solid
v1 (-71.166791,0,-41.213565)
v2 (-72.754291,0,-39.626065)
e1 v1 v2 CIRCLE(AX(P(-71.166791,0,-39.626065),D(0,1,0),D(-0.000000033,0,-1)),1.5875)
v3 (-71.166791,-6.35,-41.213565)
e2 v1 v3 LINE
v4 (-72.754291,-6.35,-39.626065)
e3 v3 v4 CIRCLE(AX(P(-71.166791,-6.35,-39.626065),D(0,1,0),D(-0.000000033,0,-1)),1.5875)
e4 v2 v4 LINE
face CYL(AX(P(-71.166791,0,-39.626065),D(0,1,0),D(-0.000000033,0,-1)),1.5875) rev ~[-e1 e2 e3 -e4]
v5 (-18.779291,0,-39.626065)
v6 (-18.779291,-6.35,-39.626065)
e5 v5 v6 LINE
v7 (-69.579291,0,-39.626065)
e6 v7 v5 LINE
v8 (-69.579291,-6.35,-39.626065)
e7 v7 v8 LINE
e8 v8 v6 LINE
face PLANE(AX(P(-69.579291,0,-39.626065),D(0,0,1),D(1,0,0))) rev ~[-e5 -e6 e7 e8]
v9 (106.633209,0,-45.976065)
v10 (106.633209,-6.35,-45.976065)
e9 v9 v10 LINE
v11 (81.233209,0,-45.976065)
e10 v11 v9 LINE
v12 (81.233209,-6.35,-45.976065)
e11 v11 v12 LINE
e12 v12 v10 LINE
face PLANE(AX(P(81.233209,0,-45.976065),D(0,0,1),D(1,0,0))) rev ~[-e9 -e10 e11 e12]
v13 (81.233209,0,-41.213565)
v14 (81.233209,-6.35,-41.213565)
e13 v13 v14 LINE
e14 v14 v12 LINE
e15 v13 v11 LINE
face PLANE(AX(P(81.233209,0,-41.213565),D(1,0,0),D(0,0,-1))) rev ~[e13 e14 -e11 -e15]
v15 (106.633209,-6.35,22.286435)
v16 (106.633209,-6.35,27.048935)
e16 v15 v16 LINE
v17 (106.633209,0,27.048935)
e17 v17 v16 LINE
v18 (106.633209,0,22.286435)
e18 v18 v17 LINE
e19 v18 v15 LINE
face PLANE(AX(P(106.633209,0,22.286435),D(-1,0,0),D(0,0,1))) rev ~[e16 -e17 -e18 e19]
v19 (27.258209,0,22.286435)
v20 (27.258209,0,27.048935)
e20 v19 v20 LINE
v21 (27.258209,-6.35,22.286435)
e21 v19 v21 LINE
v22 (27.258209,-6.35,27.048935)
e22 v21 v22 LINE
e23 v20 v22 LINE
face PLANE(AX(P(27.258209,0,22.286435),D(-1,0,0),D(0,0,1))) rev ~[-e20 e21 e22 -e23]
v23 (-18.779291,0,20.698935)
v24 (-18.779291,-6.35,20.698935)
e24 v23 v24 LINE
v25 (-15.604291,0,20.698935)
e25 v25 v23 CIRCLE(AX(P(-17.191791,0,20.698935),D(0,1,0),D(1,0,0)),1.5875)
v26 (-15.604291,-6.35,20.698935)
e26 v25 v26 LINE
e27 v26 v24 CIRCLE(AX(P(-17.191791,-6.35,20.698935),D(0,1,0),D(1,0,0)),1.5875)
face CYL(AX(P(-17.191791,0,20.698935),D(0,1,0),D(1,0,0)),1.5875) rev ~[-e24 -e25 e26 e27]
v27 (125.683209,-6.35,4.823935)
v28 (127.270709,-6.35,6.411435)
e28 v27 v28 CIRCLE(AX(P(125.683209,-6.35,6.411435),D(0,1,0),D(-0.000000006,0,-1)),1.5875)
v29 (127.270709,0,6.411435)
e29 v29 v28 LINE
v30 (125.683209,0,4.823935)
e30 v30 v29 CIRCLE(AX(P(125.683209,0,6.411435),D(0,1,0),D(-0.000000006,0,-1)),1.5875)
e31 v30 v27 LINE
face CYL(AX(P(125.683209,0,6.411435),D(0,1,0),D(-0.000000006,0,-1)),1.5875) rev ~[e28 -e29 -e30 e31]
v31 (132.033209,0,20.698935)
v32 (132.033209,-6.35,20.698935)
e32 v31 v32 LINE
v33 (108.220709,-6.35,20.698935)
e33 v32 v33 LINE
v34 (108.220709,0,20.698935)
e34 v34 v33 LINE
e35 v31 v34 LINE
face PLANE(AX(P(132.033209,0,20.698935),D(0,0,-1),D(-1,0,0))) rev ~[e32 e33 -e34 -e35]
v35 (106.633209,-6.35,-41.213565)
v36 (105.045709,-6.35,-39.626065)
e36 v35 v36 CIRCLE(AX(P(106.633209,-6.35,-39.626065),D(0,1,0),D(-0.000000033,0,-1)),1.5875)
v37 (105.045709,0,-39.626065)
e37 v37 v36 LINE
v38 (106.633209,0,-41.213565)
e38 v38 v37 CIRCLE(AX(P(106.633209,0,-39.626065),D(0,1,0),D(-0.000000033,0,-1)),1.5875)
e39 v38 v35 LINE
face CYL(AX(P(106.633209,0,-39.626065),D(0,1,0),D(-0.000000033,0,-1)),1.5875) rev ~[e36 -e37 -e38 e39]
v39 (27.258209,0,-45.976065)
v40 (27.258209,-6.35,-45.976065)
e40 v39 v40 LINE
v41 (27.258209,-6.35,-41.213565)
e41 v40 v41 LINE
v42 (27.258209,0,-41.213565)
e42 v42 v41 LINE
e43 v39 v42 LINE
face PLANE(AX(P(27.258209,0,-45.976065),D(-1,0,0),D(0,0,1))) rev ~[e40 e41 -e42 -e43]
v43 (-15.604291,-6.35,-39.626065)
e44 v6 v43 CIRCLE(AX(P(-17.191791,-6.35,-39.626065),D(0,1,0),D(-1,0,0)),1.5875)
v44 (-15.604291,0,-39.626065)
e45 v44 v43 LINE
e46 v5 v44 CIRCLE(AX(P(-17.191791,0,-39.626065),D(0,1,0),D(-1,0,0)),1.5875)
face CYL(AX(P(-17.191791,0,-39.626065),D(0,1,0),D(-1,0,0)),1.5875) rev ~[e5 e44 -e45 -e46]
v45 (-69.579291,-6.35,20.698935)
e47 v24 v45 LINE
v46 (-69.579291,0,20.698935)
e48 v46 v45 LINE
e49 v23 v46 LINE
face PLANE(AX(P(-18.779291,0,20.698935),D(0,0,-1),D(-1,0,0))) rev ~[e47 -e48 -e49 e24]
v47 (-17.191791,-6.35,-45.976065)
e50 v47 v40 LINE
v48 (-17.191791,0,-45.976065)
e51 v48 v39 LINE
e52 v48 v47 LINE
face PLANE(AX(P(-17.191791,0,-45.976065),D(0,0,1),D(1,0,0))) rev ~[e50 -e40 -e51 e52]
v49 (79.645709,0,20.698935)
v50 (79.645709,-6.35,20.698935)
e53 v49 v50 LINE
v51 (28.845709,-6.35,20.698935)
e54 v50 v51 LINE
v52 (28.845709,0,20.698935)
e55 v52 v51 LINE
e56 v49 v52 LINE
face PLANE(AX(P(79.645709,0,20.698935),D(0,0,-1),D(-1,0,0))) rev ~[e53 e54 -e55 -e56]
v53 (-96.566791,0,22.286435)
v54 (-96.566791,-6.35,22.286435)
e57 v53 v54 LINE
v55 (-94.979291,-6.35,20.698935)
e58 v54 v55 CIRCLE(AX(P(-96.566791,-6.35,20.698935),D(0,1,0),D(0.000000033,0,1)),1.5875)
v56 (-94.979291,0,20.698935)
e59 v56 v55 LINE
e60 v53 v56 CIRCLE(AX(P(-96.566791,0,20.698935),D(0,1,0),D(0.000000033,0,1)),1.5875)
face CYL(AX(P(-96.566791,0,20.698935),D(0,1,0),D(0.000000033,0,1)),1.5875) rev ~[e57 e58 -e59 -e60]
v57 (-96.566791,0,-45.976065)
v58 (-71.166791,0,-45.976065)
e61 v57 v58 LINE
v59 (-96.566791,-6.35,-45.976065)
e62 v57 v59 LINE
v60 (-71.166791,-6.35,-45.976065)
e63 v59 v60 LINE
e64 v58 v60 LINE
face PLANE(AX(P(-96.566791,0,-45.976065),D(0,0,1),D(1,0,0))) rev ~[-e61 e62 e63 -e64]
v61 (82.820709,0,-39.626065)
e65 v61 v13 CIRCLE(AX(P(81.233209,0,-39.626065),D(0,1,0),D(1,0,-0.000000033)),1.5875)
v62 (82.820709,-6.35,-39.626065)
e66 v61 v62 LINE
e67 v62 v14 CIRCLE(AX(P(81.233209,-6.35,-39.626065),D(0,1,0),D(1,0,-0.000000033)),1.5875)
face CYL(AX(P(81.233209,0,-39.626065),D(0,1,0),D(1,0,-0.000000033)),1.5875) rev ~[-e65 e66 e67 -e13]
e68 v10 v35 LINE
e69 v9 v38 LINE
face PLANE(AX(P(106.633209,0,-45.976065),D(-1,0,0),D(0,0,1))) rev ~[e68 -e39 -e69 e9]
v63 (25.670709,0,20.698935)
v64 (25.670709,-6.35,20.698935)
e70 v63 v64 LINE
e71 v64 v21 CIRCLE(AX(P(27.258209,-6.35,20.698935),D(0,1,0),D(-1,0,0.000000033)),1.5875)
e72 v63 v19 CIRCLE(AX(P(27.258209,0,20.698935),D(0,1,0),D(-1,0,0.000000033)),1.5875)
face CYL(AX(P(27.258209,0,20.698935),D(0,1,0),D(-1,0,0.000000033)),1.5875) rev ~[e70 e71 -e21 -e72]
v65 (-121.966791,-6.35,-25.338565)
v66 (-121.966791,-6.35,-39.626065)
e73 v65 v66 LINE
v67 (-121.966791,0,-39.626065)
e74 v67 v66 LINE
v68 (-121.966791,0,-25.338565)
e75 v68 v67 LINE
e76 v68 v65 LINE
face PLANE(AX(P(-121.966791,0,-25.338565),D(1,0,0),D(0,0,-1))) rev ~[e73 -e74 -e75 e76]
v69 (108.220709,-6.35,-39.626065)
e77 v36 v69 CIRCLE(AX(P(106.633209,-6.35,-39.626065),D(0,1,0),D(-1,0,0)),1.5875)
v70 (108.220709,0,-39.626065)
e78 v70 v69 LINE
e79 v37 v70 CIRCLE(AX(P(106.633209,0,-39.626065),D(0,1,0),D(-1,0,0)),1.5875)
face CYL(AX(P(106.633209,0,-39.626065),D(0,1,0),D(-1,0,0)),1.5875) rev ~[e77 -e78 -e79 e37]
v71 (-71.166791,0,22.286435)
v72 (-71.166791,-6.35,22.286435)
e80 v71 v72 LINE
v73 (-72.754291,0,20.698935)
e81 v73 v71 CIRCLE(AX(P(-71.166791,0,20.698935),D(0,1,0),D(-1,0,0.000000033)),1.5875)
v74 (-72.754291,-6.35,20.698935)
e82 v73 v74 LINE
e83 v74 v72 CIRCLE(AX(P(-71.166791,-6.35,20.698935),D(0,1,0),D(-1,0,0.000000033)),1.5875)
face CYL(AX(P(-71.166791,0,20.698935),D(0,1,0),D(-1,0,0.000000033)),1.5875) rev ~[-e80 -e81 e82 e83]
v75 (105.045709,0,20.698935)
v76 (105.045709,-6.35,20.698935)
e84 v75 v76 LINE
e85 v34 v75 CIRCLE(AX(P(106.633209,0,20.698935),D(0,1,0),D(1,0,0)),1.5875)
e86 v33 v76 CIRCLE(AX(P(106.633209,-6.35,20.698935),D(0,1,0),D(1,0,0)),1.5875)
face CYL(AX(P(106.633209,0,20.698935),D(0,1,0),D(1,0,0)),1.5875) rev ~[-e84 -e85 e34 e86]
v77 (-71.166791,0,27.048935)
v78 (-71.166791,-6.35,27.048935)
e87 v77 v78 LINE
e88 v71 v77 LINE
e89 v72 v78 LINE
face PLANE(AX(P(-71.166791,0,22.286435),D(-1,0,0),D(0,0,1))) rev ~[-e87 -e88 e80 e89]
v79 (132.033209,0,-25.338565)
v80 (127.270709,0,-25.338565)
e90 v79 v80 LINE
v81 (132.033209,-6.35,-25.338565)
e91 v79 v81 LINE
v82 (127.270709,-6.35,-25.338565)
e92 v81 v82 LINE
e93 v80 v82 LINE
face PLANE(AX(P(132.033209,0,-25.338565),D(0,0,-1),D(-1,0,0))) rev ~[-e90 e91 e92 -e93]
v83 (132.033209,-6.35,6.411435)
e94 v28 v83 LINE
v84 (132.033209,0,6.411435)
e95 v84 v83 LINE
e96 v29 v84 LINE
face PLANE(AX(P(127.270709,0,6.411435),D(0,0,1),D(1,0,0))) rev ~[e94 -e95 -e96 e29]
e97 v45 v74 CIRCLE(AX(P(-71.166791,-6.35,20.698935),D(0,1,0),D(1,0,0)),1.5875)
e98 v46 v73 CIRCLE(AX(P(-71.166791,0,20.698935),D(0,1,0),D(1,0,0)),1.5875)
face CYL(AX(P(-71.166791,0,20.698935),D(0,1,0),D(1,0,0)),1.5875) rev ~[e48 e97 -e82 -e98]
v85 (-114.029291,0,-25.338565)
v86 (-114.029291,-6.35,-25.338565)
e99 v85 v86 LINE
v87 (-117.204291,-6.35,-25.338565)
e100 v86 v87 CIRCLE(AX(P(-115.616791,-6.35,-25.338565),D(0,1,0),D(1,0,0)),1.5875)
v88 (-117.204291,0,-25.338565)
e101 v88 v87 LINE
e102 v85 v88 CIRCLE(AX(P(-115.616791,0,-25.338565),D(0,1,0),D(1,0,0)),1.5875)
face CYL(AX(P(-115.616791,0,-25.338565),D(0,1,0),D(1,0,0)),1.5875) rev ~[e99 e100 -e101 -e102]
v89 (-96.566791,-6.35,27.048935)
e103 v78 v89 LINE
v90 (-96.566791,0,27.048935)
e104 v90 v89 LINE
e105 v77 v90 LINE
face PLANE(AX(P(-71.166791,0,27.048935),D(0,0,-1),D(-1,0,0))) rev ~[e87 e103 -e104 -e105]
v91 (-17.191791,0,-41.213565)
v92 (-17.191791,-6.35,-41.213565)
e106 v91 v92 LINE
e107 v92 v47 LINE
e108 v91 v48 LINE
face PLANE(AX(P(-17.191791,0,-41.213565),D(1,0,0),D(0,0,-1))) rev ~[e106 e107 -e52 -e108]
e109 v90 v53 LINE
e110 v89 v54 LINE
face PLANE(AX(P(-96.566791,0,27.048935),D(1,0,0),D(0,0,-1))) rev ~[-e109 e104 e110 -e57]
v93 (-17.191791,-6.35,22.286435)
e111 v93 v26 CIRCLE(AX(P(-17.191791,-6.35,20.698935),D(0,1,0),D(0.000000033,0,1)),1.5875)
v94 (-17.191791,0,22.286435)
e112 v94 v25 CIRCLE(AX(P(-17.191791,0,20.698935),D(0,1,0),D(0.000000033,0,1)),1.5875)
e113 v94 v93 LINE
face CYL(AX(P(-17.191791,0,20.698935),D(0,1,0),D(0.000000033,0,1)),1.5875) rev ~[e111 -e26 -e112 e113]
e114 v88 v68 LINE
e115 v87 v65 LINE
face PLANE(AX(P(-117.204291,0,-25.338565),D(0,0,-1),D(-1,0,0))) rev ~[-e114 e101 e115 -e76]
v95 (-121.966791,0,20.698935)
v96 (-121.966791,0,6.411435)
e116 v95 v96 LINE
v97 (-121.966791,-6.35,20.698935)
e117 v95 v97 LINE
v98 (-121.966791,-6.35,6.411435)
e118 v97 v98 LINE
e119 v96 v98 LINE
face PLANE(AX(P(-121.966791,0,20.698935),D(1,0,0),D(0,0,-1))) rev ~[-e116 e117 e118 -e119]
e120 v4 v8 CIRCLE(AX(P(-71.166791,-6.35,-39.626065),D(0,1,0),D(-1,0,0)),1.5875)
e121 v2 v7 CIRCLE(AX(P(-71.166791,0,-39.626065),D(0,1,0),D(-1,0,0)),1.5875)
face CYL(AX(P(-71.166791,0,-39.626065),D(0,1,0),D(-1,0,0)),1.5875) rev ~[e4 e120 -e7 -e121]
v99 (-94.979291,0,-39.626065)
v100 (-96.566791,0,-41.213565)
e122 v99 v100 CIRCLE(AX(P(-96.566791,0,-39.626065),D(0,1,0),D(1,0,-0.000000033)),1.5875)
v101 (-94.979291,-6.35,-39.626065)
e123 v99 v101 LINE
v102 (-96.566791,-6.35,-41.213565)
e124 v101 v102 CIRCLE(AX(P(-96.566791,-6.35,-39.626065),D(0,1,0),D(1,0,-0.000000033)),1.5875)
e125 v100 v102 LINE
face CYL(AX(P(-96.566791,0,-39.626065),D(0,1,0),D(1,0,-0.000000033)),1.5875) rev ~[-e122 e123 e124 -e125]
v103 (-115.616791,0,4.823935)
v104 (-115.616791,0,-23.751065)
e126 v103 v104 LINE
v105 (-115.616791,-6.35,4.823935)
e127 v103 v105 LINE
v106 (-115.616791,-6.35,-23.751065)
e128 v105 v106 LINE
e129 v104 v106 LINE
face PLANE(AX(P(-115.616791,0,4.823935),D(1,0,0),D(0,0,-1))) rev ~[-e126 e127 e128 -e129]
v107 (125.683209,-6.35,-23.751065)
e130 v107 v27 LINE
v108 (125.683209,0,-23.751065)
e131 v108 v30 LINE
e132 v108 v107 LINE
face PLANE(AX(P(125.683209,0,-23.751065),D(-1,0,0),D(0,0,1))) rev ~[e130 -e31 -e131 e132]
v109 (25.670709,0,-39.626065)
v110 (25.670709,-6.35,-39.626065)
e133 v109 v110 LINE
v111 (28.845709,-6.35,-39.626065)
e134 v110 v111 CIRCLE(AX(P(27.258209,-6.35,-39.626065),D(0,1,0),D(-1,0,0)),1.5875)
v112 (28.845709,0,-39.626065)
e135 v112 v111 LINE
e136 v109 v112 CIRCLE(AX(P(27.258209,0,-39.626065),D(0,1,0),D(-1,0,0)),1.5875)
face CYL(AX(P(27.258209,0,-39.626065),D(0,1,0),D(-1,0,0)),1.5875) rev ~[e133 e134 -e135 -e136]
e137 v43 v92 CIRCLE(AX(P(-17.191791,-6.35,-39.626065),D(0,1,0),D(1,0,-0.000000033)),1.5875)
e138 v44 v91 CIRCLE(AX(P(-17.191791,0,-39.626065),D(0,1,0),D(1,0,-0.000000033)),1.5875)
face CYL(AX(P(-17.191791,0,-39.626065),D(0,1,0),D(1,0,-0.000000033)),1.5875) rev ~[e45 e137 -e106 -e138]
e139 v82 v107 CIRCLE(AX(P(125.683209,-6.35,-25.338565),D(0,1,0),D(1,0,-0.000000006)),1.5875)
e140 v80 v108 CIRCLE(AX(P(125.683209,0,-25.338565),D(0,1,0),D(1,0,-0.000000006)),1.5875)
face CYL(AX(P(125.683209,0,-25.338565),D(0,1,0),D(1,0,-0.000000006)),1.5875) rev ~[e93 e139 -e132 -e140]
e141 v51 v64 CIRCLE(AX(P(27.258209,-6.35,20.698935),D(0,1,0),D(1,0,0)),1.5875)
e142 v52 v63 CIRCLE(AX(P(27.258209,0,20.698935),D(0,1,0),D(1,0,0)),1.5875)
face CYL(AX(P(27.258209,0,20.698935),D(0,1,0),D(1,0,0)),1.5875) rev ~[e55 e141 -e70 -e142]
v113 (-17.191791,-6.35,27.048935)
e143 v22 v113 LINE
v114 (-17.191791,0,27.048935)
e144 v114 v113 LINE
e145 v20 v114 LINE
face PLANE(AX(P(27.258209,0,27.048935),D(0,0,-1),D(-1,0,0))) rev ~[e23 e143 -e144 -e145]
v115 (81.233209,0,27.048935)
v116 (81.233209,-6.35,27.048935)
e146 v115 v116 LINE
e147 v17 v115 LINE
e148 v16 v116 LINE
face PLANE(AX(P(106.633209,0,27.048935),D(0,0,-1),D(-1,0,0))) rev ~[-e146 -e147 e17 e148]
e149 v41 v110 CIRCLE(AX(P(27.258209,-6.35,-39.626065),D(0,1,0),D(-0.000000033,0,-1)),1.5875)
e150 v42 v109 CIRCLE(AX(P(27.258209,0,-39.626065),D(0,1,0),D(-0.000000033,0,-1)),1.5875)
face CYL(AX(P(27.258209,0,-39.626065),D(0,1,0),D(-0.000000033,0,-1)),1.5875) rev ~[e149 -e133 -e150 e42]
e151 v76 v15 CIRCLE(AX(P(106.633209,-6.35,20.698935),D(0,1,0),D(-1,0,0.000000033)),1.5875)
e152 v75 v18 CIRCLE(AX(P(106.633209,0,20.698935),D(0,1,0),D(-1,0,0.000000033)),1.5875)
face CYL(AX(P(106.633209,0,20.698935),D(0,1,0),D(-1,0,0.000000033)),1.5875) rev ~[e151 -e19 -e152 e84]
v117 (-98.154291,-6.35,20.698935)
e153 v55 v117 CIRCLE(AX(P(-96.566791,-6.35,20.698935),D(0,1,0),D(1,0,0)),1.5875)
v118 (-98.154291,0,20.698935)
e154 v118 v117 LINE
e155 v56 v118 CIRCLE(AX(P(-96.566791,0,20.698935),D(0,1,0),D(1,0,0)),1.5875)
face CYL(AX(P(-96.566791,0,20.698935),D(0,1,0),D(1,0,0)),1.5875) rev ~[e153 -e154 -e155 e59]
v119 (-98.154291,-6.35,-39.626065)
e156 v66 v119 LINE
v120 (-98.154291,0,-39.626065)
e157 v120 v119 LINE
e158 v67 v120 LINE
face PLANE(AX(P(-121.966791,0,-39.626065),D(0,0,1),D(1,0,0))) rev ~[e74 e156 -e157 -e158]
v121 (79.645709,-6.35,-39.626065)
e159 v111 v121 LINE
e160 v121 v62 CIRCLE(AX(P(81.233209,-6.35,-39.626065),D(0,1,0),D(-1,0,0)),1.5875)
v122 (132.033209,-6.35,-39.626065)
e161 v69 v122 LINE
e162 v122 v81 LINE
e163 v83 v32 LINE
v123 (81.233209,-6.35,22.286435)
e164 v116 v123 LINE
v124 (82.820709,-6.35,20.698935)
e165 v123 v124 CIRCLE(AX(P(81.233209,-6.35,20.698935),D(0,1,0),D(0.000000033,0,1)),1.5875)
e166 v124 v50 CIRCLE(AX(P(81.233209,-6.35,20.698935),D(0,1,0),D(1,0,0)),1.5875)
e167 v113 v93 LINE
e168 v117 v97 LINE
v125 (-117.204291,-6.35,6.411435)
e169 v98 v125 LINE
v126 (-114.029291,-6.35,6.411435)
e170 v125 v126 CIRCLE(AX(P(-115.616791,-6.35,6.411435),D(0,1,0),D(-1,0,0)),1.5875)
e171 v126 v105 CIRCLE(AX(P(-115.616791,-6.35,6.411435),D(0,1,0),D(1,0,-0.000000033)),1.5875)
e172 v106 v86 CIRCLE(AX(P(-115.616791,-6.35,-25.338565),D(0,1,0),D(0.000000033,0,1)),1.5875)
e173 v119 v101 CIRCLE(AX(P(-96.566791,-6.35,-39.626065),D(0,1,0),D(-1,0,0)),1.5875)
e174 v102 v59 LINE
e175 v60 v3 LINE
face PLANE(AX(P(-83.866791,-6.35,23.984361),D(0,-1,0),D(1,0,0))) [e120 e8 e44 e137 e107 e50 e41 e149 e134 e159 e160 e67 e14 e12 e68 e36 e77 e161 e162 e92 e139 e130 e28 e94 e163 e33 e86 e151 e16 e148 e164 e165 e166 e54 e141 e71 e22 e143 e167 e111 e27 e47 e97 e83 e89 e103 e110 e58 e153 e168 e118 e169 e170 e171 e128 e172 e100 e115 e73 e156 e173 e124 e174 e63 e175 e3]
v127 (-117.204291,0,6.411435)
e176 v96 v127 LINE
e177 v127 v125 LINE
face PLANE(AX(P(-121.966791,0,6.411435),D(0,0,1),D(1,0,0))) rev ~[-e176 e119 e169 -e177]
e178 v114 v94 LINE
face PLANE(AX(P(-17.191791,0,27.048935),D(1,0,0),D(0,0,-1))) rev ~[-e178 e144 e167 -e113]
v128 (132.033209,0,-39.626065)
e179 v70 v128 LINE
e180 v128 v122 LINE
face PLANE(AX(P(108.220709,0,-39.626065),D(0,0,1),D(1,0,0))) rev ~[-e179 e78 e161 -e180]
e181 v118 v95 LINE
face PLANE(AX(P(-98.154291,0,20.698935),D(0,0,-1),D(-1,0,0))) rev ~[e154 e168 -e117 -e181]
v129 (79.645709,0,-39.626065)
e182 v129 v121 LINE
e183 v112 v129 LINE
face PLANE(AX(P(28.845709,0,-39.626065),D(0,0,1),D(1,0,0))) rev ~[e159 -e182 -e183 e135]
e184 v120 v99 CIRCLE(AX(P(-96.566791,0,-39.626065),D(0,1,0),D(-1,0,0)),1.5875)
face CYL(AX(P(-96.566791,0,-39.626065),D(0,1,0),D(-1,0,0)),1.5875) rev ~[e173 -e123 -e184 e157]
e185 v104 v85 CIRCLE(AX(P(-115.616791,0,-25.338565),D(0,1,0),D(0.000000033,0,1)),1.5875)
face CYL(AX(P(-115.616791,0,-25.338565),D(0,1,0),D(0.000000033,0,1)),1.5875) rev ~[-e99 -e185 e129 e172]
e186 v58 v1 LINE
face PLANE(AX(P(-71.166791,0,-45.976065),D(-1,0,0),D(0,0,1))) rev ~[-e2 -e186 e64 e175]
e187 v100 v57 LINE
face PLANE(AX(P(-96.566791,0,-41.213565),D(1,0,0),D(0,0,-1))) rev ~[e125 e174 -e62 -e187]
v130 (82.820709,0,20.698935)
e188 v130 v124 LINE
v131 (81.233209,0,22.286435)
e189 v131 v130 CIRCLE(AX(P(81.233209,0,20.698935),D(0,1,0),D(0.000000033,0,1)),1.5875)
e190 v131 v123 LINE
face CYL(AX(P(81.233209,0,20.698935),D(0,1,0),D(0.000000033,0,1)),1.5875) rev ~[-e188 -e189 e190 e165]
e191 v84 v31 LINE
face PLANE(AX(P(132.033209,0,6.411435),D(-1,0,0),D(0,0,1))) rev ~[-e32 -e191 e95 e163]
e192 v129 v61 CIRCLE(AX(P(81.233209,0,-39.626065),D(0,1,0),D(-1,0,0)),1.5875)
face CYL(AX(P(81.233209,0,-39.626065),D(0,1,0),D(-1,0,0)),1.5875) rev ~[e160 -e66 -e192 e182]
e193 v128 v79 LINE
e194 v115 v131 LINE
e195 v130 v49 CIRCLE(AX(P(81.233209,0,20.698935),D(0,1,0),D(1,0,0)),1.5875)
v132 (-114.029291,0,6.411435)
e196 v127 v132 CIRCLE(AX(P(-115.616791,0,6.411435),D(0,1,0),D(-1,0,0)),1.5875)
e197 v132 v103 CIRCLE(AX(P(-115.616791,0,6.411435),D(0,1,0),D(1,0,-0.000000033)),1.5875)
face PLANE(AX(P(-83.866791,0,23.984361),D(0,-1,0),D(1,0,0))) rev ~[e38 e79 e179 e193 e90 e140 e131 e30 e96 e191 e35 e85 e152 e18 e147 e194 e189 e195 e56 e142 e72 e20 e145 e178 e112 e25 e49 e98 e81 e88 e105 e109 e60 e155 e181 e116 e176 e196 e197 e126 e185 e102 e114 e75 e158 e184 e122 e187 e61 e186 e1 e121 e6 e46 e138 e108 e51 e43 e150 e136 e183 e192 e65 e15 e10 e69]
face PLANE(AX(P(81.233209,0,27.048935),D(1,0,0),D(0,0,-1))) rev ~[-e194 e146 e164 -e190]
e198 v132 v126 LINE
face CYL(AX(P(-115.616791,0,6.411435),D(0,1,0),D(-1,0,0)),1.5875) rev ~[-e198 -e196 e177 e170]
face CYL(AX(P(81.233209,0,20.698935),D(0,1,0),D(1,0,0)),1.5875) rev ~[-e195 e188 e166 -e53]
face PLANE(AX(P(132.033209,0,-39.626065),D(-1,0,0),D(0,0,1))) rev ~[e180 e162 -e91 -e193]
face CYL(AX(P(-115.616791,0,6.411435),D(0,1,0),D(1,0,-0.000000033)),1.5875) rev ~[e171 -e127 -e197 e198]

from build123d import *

# Parameters (mm, degrees)
F1_DEPTH = 6.35


with BuildPart() as f1:
    # F0 (on Front) → F1 (new body)
    with BuildSketch(Plane.XZ):
        with BuildLine():
            ThreePointArc((-96.566791, 22.286435), (-95.444259, 21.821467), (-94.979291, 20.698935))
            Line((-94.979291, 20.698935), (-72.754291, 20.698935))
            ThreePointArc((-72.754291, 20.698935), (-72.289323, 21.821467), (-71.166791, 22.286435))
            Line((-71.166791, 22.286435), (-71.166791, 27.048935))
            Line((-71.166791, 27.048935), (-96.566791, 27.048935))
            Line((-96.566791, 27.048935), (-96.566791, 22.286435))
        make_face()
        with BuildLine():
            Line((-72.754291, 20.698935), (-94.979291, 20.698935))
            ThreePointArc((-94.979291, 20.698935), (-96.566791, 19.111435), (-98.154291, 20.698935))
            Line((-98.154291, 20.698935), (-121.966791, 20.698935))
            Line((-121.966791, 20.698935), (-121.966791, 6.411435))
            Line((-121.966791, 6.411435), (-117.204291, 6.411435))
            ThreePointArc((-117.204291, 6.411435), (-115.616791, 7.998935), (-114.029291, 6.411435))
            ThreePointArc((-114.029291, 6.411435), (-114.494259, 5.288903), (-115.616791, 4.823935))
            Line((-115.616791, 4.823935), (-115.616791, -23.751065))
            ThreePointArc((-115.616791, -23.751065), (-114.494259, -24.216033), (-114.029291, -25.338565))
            ThreePointArc((-114.029291, -25.338565), (-115.616791, -26.926065), (-117.204291, -25.338565))
            Line((-117.204291, -25.338565), (-121.966791, -25.338565))
            Line((-121.966791, -25.338565), (-121.966791, -39.626065))
            Line((-121.966791, -39.626065), (-98.154291, -39.626065))
            ThreePointArc((-98.154291, -39.626065), (-96.566791, -38.038565), (-94.979291, -39.626065))
            Line((-94.979291, -39.626065), (-72.754291, -39.626065))
            ThreePointArc((-72.754291, -39.626065), (-71.166791, -38.038565), (-69.579291, -39.626065))
            Line((-69.579291, -39.626065), (-18.779291, -39.626065))
            ThreePointArc((-18.779291, -39.626065), (-17.191791, -38.038565), (-15.604291, -39.626065))
            Line((-15.604291, -39.626065), (25.670709, -39.626065))
            ThreePointArc((25.670709, -39.626065), (27.258209, -38.038565), (28.845709, -39.626065))
            Line((28.845709, -39.626065), (79.645709, -39.626065))
            ThreePointArc((79.645709, -39.626065), (81.233209, -38.038565), (82.820709, -39.626065))
            Line((82.820709, -39.626065), (105.045709, -39.626065))
            ThreePointArc((105.045709, -39.626065), (106.633209, -38.038565), (108.220709, -39.626065))
            Line((108.220709, -39.626065), (132.033209, -39.626065))
            Line((132.033209, -39.626065), (132.033209, -25.338565))
            Line((132.033209, -25.338565), (127.270709, -25.338565))
            ThreePointArc((127.270709, -25.338565), (124.560677, -26.461097), (125.683209, -23.751065))
            Line((125.683209, -23.751065), (125.683209, 4.823935))
            ThreePointArc((125.683209, 4.823935), (124.560677, 7.533967), (127.270709, 6.411435))
            Line((127.270709, 6.411435), (132.033209, 6.411435))
            Line((132.033209, 6.411435), (132.033209, 20.698935))
            Line((132.033209, 20.698935), (108.220709, 20.698935))
            ThreePointArc((108.220709, 20.698935), (106.633209, 19.111435), (105.045709, 20.698935))
            Line((105.045709, 20.698935), (82.820709, 20.698935))
            ThreePointArc((82.820709, 20.698935), (81.233209, 19.111435), (79.645709, 20.698935))
            Line((79.645709, 20.698935), (28.845709, 20.698935))
            ThreePointArc((28.845709, 20.698935), (27.258209, 19.111435), (25.670709, 20.698935))
            Line((25.670709, 20.698935), (-15.604291, 20.698935))
            ThreePointArc((-15.604291, 20.698935), (-17.191791, 19.111435), (-18.779291, 20.698935))
            Line((-18.779291, 20.698935), (-69.579291, 20.698935))
            ThreePointArc((-69.579291, 20.698935), (-71.166791, 19.111435), (-72.754291, 20.698935))
        make_face()
        with BuildLine():
            Line((-17.191791, 27.048935), (-17.191791, 22.286435))
            ThreePointArc((-17.191791, 22.286435), (-16.069259, 21.821467), (-15.604291, 20.698935))
            Line((-15.604291, 20.698935), (25.670709, 20.698935))
            ThreePointArc((25.670709, 20.698935), (26.135677, 21.821467), (27.258209, 22.286435))
            Line((27.258209, 22.286435), (27.258209, 27.048935))
            Line((27.258209, 27.048935), (-17.191791, 27.048935))
        make_face()
        with BuildLine():
            Line((81.233209, 27.048935), (81.233209, 22.286435))
            ThreePointArc((81.233209, 22.286435), (82.355741, 21.821467), (82.820709, 20.698935))
            Line((82.820709, 20.698935), (105.045709, 20.698935))
            ThreePointArc((105.045709, 20.698935), (105.510677, 21.821467), (106.633209, 22.286435))
            Line((106.633209, 22.286435), (106.633209, 27.048935))
            Line((106.633209, 27.048935), (81.233209, 27.048935))
        make_face()
        with BuildLine():
            Line((105.045709, -39.626065), (82.820709, -39.626065))
            ThreePointArc((82.820709, -39.626065), (82.355741, -40.748597), (81.233209, -41.213565))
            Line((81.233209, -41.213565), (81.233209, -45.976065))
            Line((81.233209, -45.976065), (106.633209, -45.976065))
            Line((106.633209, -45.976065), (106.633209, -41.213565))
            ThreePointArc((106.633209, -41.213565), (105.510677, -40.748597), (105.045709, -39.626065))
        make_face()
        with BuildLine():
            Line((25.670709, -39.626065), (-15.604291, -39.626065))
            ThreePointArc((-15.604291, -39.626065), (-16.069259, -40.748597), (-17.191791, -41.213565))
            Line((-17.191791, -41.213565), (-17.191791, -45.976065))
            Line((-17.191791, -45.976065), (27.258209, -45.976065))
            Line((27.258209, -45.976065), (27.258209, -41.213565))
            ThreePointArc((27.258209, -41.213565), (26.135677, -40.748597), (25.670709, -39.626065))
        make_face()
        with BuildLine():
            Line((-72.754291, -39.626065), (-94.979291, -39.626065))
            ThreePointArc((-94.979291, -39.626065), (-95.444259, -40.748597), (-96.566791, -41.213565))
            Line((-96.566791, -41.213565), (-96.566791, -45.976065))
            Line((-96.566791, -45.976065), (-71.166791, -45.976065))
            Line((-71.166791, -45.976065), (-71.166791, -41.213565))
            ThreePointArc((-71.166791, -41.213565), (-72.289323, -40.748597), (-72.754291, -39.626065))
        make_face()
    extrude(amount=F1_DEPTH)


solid = f1.part
